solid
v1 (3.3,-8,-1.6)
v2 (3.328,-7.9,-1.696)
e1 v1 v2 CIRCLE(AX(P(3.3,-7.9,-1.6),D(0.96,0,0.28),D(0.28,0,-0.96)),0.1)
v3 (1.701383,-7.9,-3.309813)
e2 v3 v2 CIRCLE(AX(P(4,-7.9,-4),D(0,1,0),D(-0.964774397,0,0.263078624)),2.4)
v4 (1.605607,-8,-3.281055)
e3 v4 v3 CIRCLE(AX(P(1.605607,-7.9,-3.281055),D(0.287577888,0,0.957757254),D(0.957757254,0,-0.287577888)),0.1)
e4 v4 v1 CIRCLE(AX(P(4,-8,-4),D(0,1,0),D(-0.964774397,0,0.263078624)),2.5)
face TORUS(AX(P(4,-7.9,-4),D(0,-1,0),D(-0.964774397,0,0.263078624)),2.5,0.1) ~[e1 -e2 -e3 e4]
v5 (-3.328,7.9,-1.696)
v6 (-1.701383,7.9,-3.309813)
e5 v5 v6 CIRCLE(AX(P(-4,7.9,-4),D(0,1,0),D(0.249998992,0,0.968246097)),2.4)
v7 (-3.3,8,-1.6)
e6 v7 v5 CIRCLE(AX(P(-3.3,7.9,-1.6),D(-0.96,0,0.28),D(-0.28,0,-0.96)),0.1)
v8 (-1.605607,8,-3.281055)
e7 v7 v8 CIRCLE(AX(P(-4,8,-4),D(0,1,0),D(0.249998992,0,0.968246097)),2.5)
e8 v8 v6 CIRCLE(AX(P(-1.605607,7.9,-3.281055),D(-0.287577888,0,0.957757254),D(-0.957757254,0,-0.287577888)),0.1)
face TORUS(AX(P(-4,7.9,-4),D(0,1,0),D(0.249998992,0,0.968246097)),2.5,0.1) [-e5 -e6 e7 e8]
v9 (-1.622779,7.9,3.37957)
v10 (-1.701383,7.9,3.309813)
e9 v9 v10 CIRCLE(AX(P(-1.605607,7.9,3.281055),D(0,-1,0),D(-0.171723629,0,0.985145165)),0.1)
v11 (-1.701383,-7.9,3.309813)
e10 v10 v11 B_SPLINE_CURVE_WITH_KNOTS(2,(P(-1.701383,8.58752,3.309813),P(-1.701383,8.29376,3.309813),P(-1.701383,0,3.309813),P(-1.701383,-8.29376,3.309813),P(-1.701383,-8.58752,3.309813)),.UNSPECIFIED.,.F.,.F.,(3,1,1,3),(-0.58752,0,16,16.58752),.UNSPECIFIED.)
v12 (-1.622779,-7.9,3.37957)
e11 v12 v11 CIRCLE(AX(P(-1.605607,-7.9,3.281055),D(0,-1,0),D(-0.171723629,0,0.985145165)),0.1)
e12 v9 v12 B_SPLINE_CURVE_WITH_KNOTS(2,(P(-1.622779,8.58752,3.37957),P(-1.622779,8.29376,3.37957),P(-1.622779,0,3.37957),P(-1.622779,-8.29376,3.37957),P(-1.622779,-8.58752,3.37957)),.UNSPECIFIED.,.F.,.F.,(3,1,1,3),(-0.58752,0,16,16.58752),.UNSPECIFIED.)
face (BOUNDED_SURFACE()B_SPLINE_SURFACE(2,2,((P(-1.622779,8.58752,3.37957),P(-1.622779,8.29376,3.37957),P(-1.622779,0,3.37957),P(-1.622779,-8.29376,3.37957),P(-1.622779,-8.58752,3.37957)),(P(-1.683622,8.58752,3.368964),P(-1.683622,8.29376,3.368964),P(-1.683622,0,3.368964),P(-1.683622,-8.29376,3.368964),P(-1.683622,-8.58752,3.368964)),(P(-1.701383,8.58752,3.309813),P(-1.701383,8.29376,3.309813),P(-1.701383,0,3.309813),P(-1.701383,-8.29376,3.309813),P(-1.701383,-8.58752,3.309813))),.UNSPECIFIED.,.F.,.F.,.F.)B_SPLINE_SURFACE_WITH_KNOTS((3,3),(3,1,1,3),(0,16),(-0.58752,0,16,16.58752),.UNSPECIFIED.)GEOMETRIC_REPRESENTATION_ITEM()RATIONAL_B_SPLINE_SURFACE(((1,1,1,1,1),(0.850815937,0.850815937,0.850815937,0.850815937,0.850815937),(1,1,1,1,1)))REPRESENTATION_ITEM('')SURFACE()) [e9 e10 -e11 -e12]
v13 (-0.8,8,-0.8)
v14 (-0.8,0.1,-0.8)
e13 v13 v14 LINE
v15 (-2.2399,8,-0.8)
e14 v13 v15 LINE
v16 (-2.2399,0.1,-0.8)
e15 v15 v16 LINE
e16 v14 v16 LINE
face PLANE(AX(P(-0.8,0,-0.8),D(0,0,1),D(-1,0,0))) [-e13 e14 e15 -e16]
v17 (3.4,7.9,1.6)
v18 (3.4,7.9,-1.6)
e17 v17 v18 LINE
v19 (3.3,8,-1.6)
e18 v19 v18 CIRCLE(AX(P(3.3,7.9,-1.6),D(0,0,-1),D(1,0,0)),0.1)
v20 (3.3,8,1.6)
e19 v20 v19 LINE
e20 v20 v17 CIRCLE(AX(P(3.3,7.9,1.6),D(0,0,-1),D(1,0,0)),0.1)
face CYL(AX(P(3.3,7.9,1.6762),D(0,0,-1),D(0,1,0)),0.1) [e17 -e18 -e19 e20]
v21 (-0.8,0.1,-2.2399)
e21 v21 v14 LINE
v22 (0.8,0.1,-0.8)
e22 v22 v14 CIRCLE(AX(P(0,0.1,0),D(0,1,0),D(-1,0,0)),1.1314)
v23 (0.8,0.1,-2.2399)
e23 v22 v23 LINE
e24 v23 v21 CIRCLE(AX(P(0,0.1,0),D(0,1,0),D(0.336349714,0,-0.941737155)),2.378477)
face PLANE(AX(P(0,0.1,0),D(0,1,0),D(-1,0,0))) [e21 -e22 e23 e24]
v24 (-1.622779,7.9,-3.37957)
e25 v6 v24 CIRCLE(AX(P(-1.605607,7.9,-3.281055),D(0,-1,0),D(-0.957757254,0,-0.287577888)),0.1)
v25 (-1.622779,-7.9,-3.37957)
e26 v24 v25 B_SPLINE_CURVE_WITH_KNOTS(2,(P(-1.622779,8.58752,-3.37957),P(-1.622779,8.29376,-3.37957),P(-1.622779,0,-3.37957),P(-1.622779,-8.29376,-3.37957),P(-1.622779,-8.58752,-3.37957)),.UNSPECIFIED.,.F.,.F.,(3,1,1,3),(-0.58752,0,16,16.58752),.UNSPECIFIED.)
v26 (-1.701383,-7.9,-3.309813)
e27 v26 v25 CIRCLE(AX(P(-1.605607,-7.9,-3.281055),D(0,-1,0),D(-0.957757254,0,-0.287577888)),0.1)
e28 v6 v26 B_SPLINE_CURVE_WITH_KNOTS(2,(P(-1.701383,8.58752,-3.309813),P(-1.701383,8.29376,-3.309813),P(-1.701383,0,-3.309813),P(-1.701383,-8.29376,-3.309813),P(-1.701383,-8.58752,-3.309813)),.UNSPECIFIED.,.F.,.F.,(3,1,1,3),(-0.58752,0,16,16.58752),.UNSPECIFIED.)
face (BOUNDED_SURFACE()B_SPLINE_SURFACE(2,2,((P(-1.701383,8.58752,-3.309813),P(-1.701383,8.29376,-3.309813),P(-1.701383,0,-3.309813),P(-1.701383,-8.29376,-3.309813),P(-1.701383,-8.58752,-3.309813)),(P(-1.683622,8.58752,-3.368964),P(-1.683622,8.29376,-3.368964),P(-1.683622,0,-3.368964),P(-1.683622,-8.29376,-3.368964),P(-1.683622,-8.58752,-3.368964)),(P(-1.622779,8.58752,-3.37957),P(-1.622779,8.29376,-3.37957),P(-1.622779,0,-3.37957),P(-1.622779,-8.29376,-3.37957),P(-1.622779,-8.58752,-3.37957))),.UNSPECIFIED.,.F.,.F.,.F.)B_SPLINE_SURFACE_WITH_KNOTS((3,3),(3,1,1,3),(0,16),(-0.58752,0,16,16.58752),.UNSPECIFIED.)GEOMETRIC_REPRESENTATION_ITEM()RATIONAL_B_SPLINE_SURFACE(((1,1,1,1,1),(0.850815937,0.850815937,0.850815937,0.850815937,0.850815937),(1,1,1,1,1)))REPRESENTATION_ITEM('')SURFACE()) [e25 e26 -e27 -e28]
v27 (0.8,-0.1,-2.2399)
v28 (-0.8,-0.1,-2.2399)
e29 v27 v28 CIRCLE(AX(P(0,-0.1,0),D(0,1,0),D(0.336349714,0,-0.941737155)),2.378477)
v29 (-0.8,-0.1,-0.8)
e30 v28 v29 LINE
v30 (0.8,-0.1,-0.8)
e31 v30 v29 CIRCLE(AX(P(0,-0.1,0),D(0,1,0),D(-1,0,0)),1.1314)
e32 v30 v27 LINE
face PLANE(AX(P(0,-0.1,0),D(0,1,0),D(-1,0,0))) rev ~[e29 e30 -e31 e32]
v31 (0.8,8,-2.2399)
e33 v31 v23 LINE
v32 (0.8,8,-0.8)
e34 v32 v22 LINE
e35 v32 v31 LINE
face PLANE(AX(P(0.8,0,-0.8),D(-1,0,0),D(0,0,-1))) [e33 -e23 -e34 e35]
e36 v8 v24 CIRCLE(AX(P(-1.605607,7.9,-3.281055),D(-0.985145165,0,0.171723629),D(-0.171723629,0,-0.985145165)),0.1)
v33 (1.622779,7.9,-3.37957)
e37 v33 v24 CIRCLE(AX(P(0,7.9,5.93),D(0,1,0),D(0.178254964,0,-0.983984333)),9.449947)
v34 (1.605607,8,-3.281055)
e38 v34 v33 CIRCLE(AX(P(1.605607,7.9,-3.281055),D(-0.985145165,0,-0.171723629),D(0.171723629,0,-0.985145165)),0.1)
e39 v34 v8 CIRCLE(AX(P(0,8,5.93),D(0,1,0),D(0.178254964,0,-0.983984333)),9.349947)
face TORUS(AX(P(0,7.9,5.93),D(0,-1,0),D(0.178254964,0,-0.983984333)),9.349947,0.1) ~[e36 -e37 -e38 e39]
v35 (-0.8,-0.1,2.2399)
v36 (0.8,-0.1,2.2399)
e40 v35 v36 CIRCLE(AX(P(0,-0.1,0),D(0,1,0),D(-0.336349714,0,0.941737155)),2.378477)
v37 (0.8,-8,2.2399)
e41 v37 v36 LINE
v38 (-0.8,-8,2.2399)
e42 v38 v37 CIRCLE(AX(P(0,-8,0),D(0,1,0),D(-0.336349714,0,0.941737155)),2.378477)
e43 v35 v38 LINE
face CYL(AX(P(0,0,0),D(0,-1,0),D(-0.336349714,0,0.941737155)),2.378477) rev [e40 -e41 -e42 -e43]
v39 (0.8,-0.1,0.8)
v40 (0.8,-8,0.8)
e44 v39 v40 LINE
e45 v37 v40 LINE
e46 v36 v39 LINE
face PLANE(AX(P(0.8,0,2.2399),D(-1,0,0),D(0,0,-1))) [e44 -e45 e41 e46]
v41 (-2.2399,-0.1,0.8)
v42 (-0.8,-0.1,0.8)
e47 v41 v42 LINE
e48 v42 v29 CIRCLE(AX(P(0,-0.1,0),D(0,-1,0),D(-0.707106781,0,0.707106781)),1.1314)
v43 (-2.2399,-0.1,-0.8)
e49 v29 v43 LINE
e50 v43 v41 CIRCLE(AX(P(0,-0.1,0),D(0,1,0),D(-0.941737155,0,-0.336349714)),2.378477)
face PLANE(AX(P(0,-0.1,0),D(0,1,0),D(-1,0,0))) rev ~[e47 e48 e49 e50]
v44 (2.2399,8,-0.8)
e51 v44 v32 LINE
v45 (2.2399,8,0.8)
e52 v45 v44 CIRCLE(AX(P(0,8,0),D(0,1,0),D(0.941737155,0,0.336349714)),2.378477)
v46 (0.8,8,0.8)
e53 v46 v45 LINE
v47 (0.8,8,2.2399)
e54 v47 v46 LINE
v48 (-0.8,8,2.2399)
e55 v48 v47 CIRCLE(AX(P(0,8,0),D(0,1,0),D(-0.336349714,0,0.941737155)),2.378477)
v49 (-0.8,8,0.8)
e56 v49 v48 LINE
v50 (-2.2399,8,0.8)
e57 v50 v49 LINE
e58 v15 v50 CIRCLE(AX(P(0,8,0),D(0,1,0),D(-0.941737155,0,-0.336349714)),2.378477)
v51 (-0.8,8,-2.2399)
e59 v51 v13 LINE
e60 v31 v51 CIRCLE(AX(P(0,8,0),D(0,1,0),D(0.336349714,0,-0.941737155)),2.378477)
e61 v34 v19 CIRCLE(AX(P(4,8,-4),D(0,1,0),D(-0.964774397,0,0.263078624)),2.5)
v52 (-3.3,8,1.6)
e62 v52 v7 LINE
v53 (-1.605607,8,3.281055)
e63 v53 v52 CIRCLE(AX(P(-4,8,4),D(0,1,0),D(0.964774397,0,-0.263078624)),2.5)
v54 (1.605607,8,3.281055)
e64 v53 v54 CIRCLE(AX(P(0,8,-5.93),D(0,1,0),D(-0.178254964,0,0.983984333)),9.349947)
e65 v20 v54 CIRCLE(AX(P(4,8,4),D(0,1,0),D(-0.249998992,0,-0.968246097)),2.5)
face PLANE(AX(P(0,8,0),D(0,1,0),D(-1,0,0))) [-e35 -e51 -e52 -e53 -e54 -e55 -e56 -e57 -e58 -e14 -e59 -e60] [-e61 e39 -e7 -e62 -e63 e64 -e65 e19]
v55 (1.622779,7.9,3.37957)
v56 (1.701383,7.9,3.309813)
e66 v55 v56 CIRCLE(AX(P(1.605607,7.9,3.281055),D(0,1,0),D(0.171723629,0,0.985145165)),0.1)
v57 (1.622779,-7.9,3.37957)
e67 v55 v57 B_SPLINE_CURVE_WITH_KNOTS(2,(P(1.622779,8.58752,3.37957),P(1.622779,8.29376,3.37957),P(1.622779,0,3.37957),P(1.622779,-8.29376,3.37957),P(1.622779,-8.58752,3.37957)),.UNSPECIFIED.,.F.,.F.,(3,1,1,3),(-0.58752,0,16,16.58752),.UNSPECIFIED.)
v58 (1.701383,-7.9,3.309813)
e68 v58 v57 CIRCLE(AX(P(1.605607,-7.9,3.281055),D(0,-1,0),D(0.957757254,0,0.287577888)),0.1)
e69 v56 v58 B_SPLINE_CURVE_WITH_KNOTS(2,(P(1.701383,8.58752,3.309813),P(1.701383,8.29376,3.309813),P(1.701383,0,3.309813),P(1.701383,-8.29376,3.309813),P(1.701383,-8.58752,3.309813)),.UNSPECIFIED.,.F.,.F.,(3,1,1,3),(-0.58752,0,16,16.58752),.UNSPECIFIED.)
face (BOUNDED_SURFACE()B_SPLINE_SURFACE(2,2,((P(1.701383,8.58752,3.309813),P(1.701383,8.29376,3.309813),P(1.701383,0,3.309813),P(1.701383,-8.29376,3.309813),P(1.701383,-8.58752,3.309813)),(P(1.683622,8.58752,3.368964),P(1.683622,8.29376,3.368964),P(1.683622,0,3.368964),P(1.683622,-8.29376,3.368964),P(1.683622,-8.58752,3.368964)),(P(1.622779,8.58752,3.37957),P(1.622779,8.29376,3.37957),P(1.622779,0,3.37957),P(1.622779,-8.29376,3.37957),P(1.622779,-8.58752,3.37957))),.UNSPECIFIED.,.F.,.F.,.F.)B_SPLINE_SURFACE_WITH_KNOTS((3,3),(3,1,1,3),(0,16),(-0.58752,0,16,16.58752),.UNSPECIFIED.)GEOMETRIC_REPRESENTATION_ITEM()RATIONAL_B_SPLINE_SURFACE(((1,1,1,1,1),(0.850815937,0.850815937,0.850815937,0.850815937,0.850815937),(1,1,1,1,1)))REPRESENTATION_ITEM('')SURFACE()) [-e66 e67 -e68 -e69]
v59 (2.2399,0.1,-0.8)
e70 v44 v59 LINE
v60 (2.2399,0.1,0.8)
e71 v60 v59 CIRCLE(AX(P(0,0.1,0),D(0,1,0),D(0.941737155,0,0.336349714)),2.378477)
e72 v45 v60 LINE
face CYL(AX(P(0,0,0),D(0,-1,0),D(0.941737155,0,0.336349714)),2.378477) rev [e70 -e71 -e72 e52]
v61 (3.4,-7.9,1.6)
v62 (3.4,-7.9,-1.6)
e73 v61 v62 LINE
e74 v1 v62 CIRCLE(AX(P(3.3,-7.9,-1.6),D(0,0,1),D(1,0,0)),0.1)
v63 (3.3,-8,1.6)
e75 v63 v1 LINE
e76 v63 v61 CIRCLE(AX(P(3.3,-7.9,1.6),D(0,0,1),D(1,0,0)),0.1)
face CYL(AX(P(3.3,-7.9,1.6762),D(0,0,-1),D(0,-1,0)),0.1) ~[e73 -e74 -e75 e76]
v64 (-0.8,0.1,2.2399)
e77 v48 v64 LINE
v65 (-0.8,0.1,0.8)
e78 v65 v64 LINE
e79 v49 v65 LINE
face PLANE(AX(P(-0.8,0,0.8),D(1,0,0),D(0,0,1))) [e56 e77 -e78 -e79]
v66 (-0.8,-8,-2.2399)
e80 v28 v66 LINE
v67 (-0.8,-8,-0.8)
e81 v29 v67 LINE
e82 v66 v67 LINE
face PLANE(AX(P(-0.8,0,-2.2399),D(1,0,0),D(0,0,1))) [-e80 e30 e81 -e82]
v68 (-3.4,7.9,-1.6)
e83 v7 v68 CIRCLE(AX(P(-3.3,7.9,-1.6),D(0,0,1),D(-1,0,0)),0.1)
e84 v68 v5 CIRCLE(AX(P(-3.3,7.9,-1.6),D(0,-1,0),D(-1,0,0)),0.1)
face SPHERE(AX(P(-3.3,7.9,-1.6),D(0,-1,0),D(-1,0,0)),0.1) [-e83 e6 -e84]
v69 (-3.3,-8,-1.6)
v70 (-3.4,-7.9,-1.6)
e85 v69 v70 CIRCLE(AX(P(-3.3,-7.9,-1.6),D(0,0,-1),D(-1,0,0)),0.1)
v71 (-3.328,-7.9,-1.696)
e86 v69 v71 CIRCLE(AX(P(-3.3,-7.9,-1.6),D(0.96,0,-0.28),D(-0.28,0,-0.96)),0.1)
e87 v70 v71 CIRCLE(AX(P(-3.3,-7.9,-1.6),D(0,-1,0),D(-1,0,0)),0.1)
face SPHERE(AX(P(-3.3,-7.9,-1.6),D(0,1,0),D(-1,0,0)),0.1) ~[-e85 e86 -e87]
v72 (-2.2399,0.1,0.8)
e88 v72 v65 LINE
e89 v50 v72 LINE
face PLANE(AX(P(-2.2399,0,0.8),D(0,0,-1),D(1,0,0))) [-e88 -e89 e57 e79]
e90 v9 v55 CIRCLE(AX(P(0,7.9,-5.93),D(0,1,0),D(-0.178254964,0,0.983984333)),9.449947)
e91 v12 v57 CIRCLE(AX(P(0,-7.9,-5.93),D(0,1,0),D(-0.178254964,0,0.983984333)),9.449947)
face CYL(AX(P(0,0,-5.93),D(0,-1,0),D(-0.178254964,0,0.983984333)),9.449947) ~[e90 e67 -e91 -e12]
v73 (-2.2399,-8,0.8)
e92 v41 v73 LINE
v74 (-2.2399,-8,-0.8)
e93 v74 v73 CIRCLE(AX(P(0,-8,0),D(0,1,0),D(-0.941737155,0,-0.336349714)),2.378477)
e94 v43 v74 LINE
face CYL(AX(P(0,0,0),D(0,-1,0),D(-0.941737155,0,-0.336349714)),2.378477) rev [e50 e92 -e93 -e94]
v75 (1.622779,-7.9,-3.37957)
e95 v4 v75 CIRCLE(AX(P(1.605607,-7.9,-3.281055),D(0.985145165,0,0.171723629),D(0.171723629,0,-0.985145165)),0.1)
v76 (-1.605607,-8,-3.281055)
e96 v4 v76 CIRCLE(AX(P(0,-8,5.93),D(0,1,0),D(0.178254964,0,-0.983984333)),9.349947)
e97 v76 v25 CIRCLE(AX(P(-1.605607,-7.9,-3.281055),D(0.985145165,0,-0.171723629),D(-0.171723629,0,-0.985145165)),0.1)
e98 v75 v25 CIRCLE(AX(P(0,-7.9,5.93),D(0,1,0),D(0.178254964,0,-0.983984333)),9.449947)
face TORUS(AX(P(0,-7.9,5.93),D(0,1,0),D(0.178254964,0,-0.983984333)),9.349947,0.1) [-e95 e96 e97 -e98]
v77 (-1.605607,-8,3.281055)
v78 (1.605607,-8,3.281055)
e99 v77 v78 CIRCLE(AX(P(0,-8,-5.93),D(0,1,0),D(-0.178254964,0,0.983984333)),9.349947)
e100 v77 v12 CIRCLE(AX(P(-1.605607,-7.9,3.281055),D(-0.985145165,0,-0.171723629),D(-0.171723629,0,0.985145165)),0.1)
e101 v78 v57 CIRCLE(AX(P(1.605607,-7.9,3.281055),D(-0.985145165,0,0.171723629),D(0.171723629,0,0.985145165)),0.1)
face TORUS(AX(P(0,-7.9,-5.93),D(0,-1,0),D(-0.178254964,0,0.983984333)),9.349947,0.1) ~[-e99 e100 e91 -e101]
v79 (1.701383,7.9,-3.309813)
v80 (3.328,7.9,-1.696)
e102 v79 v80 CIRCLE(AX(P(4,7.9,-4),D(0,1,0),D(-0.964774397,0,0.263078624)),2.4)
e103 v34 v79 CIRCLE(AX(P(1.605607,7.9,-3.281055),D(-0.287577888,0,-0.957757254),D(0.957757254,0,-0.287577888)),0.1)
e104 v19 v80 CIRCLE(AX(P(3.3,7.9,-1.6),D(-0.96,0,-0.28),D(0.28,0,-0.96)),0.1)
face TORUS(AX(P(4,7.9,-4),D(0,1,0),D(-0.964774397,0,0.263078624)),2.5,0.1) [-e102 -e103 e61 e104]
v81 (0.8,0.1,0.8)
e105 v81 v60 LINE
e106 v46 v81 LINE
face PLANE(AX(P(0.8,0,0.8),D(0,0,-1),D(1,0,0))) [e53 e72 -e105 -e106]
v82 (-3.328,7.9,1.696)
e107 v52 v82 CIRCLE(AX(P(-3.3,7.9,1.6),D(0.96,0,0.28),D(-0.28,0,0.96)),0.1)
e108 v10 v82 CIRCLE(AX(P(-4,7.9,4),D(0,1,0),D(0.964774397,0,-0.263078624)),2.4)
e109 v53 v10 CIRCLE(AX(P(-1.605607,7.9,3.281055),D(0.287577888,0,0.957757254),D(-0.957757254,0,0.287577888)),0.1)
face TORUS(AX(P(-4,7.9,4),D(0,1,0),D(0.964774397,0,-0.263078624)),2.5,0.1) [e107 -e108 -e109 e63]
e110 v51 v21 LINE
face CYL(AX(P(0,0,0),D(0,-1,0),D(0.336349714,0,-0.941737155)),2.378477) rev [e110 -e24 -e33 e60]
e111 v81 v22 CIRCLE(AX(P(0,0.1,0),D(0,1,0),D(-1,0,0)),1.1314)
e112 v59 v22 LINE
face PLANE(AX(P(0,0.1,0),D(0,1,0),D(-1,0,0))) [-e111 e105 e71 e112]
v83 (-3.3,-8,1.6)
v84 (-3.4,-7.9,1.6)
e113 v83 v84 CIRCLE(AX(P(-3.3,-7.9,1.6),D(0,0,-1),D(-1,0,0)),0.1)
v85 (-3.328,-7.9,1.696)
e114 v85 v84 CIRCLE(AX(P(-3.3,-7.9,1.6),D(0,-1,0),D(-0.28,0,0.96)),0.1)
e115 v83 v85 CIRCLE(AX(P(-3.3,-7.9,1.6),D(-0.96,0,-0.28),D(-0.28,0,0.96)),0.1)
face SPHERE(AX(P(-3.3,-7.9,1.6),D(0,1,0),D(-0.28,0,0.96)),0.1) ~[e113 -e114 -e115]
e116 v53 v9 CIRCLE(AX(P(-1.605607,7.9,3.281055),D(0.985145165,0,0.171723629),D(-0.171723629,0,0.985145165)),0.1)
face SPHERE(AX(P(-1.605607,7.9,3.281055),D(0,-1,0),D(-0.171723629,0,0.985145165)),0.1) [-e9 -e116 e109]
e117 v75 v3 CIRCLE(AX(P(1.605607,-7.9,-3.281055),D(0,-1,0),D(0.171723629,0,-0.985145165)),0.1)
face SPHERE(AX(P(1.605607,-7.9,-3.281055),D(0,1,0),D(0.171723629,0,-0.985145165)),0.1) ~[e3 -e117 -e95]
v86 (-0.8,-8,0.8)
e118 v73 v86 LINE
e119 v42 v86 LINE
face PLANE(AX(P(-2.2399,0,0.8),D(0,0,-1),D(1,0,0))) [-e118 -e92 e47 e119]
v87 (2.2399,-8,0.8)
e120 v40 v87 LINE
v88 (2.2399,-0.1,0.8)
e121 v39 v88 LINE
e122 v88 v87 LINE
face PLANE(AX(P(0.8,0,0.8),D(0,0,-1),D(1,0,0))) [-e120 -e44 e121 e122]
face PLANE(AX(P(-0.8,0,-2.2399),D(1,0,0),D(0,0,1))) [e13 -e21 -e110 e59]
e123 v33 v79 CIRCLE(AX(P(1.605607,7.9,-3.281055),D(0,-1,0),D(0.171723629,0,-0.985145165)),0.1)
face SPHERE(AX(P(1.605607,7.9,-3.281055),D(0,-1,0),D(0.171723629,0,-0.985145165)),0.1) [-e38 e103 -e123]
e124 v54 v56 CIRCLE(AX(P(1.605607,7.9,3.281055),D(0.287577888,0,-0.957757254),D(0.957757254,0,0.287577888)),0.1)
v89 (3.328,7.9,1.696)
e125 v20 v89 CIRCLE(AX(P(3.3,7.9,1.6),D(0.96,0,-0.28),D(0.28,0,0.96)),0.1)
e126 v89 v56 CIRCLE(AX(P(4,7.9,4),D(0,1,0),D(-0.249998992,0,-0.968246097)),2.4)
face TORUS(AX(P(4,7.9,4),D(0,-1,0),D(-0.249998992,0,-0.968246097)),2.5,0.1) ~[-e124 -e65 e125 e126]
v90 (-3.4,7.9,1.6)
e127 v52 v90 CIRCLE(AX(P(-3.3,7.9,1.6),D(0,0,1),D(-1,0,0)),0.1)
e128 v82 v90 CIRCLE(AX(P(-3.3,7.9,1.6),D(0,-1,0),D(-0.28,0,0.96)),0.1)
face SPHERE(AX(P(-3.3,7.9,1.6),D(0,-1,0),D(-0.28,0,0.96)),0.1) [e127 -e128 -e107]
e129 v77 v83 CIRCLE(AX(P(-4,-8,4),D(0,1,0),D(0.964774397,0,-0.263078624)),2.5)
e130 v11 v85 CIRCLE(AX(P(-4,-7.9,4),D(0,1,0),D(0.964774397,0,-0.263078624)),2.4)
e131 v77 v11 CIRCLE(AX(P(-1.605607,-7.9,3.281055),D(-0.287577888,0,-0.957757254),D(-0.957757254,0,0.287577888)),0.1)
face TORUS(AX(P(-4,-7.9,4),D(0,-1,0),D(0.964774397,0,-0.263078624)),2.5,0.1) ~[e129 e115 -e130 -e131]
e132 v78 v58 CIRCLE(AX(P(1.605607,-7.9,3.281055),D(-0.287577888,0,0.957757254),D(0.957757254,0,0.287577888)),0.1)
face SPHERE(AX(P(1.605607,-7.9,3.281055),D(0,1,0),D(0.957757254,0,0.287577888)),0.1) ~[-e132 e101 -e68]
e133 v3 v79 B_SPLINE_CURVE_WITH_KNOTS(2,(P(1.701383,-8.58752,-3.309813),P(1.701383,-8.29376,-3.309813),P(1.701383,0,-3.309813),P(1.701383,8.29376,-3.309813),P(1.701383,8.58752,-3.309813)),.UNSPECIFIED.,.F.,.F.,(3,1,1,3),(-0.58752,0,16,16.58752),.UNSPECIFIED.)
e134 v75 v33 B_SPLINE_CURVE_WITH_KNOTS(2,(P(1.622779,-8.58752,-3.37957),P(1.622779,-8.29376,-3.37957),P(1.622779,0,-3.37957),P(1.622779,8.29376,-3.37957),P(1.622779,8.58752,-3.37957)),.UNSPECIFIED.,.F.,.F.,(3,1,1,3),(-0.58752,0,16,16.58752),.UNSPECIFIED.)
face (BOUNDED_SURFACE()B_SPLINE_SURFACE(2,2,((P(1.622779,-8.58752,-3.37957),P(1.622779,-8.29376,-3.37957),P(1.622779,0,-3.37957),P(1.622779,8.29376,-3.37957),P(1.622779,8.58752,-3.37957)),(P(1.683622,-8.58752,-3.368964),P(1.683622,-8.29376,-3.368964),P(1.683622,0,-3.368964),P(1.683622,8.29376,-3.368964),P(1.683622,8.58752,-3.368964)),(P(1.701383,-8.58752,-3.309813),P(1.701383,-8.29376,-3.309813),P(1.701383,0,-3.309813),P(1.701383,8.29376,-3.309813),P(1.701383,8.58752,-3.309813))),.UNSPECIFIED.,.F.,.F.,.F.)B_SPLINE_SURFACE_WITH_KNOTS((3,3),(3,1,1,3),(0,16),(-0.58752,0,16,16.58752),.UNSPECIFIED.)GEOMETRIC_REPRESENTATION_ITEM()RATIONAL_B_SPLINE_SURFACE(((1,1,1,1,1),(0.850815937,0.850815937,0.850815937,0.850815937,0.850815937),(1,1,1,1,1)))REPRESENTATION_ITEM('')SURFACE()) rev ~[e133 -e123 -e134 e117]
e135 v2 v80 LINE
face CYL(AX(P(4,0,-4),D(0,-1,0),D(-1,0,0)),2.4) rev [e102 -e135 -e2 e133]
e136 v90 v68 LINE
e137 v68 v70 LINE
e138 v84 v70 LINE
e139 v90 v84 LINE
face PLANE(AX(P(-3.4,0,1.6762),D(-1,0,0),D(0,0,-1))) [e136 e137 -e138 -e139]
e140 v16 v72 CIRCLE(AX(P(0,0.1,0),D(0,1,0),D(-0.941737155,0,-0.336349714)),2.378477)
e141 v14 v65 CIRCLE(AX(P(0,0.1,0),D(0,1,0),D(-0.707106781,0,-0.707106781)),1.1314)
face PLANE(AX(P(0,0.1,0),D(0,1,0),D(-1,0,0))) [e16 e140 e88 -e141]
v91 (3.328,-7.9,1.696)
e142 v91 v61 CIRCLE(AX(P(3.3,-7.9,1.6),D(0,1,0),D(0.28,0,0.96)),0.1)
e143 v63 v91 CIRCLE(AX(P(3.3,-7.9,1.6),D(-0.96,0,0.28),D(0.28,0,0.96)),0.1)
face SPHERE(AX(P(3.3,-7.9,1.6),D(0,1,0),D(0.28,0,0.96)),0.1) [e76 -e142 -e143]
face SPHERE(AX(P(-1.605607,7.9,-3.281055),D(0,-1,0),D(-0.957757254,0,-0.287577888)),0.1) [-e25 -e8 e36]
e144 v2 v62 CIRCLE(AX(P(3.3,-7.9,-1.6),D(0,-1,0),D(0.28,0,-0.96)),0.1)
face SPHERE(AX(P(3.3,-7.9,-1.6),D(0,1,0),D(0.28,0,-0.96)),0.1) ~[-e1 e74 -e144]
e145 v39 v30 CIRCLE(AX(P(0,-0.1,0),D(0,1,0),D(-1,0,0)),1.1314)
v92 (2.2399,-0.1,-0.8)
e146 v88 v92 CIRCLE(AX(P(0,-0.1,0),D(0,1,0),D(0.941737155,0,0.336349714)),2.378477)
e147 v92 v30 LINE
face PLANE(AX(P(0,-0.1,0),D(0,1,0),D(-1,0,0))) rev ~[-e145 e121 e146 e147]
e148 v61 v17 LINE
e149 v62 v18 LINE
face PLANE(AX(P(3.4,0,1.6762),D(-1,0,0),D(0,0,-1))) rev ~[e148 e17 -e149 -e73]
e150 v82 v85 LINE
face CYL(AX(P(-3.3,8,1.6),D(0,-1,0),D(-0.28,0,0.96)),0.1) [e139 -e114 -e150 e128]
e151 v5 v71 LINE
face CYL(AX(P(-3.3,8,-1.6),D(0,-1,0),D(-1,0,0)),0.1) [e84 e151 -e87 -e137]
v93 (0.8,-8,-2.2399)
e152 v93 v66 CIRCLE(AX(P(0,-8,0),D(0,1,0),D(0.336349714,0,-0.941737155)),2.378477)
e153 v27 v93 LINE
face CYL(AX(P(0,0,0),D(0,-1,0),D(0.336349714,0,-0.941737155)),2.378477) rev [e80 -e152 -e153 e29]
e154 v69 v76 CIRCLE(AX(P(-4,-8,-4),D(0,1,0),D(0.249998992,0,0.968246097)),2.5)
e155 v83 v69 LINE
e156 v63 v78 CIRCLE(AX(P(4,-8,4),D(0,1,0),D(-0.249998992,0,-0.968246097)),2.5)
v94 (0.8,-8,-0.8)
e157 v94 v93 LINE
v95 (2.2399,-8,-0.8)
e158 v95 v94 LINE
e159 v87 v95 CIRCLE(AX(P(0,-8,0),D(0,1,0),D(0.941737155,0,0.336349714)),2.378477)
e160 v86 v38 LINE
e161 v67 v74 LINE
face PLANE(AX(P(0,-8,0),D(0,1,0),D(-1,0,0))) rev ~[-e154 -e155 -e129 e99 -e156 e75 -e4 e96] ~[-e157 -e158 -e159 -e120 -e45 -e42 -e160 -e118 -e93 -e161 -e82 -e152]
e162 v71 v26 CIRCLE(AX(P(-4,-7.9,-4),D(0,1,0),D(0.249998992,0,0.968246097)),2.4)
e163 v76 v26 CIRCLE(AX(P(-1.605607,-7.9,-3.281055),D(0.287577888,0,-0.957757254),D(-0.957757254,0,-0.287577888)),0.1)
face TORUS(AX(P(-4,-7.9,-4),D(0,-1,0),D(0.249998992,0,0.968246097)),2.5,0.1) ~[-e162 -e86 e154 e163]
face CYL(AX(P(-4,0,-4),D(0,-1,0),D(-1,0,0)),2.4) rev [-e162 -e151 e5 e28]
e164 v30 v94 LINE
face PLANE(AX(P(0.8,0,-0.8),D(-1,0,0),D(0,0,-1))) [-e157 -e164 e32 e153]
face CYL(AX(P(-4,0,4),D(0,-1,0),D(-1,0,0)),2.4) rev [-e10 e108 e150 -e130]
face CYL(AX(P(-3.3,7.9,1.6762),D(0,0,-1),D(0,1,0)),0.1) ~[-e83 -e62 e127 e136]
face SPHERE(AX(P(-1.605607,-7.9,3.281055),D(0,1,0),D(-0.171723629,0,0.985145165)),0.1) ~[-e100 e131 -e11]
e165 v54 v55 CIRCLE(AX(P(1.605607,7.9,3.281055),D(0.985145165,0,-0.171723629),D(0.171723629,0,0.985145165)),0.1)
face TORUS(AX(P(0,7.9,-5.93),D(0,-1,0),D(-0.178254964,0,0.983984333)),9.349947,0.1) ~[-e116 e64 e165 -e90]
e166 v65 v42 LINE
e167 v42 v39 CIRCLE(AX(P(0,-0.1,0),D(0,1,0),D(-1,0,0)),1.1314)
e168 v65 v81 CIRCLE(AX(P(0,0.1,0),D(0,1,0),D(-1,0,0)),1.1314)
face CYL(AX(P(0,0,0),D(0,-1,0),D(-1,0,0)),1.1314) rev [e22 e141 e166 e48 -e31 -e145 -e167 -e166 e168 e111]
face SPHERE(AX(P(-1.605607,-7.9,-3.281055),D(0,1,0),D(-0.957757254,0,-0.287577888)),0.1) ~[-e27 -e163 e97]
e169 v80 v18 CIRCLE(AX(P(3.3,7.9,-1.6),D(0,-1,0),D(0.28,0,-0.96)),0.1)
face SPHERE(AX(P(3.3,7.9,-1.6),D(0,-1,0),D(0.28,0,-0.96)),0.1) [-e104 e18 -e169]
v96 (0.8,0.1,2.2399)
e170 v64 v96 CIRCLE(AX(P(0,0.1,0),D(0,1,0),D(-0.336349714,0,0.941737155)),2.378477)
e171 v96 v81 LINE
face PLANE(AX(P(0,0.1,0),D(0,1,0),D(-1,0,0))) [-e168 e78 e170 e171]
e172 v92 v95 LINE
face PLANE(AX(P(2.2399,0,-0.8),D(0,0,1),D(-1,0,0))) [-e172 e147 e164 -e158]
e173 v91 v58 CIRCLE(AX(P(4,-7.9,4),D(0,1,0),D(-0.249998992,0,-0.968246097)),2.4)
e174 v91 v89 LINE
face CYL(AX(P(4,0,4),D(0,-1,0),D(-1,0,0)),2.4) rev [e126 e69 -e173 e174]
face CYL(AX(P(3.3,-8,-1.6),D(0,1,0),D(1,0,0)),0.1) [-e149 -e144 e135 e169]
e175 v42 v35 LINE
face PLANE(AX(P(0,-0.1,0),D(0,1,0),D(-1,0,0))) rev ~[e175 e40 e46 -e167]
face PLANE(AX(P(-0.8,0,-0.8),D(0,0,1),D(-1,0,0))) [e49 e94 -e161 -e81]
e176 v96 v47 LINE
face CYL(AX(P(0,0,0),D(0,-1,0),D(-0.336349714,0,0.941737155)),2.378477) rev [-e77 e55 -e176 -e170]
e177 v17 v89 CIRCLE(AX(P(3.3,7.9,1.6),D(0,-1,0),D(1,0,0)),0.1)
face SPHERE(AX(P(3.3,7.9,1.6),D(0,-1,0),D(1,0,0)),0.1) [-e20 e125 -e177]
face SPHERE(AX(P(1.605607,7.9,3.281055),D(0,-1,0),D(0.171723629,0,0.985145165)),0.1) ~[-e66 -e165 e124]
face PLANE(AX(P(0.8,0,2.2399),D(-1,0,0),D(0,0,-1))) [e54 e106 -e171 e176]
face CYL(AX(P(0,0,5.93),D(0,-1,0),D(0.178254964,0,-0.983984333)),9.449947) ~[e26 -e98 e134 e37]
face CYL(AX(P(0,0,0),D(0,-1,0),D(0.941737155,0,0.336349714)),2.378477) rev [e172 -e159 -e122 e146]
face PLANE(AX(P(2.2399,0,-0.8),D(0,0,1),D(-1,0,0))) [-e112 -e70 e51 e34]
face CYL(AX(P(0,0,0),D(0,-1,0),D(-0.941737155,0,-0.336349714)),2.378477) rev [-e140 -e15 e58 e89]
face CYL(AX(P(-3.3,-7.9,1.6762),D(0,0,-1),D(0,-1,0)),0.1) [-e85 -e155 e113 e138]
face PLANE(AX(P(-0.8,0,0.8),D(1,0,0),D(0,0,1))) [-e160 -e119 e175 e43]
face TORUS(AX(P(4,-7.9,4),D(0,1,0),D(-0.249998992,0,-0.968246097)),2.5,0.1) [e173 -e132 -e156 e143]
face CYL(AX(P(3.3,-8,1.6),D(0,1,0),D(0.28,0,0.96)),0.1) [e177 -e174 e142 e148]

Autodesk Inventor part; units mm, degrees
ref_plane "YZ Plane" through (0, 0, 0) normal (1, 0, 0) x (0, 1, 0)
ref_plane "XZ Plane" through (0, 0, 0) normal (0, 1, 0) x (-1, 0, 0)
ref_plane "XY Plane" through (0, 0, 0) normal (0, 0, 1) x (1, 0, 0)
sketch "Sketch2" plane through (0, 0, 0) normal (0, 1, 0) x (-1, 0, 0)
  circle A0 centre (0, 0) radius 3.52 construction
  circle A1 centre (0, 0) radius 2.3784 construction
  line L0 (-4, 4) -> (4, 4) construction
  line L1 (4, 4) -> (4, -4) construction
  line L2 (-0.8, 2.2399) -> (-0.8, 0.8)
  line L3 (-0.8, 0.8) -> (-2.2399, 0.8)
  line L4 (-2.2399, -0.8) -> (-0.8, -0.8)
  line L5 (-0.8, -0.8) -> (-0.8, -2.2399)
  line L6 (0.8, -2.2399) -> (0.8, -0.8)
  line L7 (0.8, -0.8) -> (2.2399, -0.8)
  line L8 (2.2399, 0.8) -> (0.8, 0.8)
  line L9 (0.8, 0.8) -> (0.8, 2.2399)
  arc A2 (0.8, 2.2399) -> (-0.8, 2.2399) centre (0, 0) ccw
  arc A3 (-2.2399, 0.8) -> (-2.2399, -0.8) centre (0, 0) ccw
  arc A4 (-0.8, -2.2399) -> (0.8, -2.2399) centre (0, 0) ccw
  arc A5 (2.2399, -0.8) -> (2.2399, 0.8) centre (0, 0) ccw
  circle A6 centre (-4, 4) radius 2.4
  circle A7 centre (4, 4) radius 2.4
  circle A8 centre (-4, -4) radius 2.4
  circle A9 centre (4, -4) radius 2.4
  arc A10 (1.6845, 3.3686) -> (-1.6845, 3.3686) centre (0, -5.93) ccw
  line L10 (-3.4, 1.6762) -> (-3.4, -1.6762)
  line L11 (3.4, 1.6762) -> (3.4, -1.6762)
  arc A11 (-1.6845, -3.3686) -> (1.6845, -3.3686) centre (0, 5.93) ccw
  circle A12 centre (0, 0) radius 1.1314
  point P0 (0, 4)
  point P1 (4, 0)
  dimension "d0" = 4.7569
  dimension "d1" = 7.04
  dimension "d2" = 8
  dimension "d4" = 1.6
  dimension "d20" = 4.8
  dimension "d21" = 18.9
  dimension "d22" = 6.8
extrude "Extrusion1" add sketch "Sketch2" along normal mid plane 16 contours A6 A10 A7 L11 A9 A11 A8 L10
extrude "Extrusion3" add sketch "Sketch2" along normal mid plane 0.2 contours A2 L9 A12 L2 | A12 L4 A3 L3 | L8 A5 L7 A12 | A12 L6 A4 L5
fillet "Fillet1" radius 0.1 24 edges at (1.6845, 0, 3.3686) (3.4, 0, 1.6762) (-1.6845, 0, 3.3686) (-3.4, 0, 1.6762) (3.4, 0, -1.6762) (1.6845, 0, -3.3686) (-1.6845, 0, -3.3686) (-3.4, 0, -1.6762) (0, 8, 3.52) (-2.3145, 8, 2.2915) (-3.4, 8, 0) (-2.3145, 8, -2.2915) (0, 8, -3.52) (2.3145, 8, -2.2915) (3.4, 8, 0) (2.3145, 8, 2.2915) (2.3145, -8, 2.2915) (0, -8, 3.52) (-2.3145, -8, 2.2915) (-3.4, -8, 0) (-2.3145, -8, -2.2915) (0, -8, -3.52) (2.3145, -8, -2.2915) (3.4, -8, 0)
equation "\"d2\" = lu"
equation "\"d4\" = axlet"
equation "\"lu\" = 8"
equation "\"axlet\" = 1.6"
properties part number "6538c-Red" material "ABS Plastic"
